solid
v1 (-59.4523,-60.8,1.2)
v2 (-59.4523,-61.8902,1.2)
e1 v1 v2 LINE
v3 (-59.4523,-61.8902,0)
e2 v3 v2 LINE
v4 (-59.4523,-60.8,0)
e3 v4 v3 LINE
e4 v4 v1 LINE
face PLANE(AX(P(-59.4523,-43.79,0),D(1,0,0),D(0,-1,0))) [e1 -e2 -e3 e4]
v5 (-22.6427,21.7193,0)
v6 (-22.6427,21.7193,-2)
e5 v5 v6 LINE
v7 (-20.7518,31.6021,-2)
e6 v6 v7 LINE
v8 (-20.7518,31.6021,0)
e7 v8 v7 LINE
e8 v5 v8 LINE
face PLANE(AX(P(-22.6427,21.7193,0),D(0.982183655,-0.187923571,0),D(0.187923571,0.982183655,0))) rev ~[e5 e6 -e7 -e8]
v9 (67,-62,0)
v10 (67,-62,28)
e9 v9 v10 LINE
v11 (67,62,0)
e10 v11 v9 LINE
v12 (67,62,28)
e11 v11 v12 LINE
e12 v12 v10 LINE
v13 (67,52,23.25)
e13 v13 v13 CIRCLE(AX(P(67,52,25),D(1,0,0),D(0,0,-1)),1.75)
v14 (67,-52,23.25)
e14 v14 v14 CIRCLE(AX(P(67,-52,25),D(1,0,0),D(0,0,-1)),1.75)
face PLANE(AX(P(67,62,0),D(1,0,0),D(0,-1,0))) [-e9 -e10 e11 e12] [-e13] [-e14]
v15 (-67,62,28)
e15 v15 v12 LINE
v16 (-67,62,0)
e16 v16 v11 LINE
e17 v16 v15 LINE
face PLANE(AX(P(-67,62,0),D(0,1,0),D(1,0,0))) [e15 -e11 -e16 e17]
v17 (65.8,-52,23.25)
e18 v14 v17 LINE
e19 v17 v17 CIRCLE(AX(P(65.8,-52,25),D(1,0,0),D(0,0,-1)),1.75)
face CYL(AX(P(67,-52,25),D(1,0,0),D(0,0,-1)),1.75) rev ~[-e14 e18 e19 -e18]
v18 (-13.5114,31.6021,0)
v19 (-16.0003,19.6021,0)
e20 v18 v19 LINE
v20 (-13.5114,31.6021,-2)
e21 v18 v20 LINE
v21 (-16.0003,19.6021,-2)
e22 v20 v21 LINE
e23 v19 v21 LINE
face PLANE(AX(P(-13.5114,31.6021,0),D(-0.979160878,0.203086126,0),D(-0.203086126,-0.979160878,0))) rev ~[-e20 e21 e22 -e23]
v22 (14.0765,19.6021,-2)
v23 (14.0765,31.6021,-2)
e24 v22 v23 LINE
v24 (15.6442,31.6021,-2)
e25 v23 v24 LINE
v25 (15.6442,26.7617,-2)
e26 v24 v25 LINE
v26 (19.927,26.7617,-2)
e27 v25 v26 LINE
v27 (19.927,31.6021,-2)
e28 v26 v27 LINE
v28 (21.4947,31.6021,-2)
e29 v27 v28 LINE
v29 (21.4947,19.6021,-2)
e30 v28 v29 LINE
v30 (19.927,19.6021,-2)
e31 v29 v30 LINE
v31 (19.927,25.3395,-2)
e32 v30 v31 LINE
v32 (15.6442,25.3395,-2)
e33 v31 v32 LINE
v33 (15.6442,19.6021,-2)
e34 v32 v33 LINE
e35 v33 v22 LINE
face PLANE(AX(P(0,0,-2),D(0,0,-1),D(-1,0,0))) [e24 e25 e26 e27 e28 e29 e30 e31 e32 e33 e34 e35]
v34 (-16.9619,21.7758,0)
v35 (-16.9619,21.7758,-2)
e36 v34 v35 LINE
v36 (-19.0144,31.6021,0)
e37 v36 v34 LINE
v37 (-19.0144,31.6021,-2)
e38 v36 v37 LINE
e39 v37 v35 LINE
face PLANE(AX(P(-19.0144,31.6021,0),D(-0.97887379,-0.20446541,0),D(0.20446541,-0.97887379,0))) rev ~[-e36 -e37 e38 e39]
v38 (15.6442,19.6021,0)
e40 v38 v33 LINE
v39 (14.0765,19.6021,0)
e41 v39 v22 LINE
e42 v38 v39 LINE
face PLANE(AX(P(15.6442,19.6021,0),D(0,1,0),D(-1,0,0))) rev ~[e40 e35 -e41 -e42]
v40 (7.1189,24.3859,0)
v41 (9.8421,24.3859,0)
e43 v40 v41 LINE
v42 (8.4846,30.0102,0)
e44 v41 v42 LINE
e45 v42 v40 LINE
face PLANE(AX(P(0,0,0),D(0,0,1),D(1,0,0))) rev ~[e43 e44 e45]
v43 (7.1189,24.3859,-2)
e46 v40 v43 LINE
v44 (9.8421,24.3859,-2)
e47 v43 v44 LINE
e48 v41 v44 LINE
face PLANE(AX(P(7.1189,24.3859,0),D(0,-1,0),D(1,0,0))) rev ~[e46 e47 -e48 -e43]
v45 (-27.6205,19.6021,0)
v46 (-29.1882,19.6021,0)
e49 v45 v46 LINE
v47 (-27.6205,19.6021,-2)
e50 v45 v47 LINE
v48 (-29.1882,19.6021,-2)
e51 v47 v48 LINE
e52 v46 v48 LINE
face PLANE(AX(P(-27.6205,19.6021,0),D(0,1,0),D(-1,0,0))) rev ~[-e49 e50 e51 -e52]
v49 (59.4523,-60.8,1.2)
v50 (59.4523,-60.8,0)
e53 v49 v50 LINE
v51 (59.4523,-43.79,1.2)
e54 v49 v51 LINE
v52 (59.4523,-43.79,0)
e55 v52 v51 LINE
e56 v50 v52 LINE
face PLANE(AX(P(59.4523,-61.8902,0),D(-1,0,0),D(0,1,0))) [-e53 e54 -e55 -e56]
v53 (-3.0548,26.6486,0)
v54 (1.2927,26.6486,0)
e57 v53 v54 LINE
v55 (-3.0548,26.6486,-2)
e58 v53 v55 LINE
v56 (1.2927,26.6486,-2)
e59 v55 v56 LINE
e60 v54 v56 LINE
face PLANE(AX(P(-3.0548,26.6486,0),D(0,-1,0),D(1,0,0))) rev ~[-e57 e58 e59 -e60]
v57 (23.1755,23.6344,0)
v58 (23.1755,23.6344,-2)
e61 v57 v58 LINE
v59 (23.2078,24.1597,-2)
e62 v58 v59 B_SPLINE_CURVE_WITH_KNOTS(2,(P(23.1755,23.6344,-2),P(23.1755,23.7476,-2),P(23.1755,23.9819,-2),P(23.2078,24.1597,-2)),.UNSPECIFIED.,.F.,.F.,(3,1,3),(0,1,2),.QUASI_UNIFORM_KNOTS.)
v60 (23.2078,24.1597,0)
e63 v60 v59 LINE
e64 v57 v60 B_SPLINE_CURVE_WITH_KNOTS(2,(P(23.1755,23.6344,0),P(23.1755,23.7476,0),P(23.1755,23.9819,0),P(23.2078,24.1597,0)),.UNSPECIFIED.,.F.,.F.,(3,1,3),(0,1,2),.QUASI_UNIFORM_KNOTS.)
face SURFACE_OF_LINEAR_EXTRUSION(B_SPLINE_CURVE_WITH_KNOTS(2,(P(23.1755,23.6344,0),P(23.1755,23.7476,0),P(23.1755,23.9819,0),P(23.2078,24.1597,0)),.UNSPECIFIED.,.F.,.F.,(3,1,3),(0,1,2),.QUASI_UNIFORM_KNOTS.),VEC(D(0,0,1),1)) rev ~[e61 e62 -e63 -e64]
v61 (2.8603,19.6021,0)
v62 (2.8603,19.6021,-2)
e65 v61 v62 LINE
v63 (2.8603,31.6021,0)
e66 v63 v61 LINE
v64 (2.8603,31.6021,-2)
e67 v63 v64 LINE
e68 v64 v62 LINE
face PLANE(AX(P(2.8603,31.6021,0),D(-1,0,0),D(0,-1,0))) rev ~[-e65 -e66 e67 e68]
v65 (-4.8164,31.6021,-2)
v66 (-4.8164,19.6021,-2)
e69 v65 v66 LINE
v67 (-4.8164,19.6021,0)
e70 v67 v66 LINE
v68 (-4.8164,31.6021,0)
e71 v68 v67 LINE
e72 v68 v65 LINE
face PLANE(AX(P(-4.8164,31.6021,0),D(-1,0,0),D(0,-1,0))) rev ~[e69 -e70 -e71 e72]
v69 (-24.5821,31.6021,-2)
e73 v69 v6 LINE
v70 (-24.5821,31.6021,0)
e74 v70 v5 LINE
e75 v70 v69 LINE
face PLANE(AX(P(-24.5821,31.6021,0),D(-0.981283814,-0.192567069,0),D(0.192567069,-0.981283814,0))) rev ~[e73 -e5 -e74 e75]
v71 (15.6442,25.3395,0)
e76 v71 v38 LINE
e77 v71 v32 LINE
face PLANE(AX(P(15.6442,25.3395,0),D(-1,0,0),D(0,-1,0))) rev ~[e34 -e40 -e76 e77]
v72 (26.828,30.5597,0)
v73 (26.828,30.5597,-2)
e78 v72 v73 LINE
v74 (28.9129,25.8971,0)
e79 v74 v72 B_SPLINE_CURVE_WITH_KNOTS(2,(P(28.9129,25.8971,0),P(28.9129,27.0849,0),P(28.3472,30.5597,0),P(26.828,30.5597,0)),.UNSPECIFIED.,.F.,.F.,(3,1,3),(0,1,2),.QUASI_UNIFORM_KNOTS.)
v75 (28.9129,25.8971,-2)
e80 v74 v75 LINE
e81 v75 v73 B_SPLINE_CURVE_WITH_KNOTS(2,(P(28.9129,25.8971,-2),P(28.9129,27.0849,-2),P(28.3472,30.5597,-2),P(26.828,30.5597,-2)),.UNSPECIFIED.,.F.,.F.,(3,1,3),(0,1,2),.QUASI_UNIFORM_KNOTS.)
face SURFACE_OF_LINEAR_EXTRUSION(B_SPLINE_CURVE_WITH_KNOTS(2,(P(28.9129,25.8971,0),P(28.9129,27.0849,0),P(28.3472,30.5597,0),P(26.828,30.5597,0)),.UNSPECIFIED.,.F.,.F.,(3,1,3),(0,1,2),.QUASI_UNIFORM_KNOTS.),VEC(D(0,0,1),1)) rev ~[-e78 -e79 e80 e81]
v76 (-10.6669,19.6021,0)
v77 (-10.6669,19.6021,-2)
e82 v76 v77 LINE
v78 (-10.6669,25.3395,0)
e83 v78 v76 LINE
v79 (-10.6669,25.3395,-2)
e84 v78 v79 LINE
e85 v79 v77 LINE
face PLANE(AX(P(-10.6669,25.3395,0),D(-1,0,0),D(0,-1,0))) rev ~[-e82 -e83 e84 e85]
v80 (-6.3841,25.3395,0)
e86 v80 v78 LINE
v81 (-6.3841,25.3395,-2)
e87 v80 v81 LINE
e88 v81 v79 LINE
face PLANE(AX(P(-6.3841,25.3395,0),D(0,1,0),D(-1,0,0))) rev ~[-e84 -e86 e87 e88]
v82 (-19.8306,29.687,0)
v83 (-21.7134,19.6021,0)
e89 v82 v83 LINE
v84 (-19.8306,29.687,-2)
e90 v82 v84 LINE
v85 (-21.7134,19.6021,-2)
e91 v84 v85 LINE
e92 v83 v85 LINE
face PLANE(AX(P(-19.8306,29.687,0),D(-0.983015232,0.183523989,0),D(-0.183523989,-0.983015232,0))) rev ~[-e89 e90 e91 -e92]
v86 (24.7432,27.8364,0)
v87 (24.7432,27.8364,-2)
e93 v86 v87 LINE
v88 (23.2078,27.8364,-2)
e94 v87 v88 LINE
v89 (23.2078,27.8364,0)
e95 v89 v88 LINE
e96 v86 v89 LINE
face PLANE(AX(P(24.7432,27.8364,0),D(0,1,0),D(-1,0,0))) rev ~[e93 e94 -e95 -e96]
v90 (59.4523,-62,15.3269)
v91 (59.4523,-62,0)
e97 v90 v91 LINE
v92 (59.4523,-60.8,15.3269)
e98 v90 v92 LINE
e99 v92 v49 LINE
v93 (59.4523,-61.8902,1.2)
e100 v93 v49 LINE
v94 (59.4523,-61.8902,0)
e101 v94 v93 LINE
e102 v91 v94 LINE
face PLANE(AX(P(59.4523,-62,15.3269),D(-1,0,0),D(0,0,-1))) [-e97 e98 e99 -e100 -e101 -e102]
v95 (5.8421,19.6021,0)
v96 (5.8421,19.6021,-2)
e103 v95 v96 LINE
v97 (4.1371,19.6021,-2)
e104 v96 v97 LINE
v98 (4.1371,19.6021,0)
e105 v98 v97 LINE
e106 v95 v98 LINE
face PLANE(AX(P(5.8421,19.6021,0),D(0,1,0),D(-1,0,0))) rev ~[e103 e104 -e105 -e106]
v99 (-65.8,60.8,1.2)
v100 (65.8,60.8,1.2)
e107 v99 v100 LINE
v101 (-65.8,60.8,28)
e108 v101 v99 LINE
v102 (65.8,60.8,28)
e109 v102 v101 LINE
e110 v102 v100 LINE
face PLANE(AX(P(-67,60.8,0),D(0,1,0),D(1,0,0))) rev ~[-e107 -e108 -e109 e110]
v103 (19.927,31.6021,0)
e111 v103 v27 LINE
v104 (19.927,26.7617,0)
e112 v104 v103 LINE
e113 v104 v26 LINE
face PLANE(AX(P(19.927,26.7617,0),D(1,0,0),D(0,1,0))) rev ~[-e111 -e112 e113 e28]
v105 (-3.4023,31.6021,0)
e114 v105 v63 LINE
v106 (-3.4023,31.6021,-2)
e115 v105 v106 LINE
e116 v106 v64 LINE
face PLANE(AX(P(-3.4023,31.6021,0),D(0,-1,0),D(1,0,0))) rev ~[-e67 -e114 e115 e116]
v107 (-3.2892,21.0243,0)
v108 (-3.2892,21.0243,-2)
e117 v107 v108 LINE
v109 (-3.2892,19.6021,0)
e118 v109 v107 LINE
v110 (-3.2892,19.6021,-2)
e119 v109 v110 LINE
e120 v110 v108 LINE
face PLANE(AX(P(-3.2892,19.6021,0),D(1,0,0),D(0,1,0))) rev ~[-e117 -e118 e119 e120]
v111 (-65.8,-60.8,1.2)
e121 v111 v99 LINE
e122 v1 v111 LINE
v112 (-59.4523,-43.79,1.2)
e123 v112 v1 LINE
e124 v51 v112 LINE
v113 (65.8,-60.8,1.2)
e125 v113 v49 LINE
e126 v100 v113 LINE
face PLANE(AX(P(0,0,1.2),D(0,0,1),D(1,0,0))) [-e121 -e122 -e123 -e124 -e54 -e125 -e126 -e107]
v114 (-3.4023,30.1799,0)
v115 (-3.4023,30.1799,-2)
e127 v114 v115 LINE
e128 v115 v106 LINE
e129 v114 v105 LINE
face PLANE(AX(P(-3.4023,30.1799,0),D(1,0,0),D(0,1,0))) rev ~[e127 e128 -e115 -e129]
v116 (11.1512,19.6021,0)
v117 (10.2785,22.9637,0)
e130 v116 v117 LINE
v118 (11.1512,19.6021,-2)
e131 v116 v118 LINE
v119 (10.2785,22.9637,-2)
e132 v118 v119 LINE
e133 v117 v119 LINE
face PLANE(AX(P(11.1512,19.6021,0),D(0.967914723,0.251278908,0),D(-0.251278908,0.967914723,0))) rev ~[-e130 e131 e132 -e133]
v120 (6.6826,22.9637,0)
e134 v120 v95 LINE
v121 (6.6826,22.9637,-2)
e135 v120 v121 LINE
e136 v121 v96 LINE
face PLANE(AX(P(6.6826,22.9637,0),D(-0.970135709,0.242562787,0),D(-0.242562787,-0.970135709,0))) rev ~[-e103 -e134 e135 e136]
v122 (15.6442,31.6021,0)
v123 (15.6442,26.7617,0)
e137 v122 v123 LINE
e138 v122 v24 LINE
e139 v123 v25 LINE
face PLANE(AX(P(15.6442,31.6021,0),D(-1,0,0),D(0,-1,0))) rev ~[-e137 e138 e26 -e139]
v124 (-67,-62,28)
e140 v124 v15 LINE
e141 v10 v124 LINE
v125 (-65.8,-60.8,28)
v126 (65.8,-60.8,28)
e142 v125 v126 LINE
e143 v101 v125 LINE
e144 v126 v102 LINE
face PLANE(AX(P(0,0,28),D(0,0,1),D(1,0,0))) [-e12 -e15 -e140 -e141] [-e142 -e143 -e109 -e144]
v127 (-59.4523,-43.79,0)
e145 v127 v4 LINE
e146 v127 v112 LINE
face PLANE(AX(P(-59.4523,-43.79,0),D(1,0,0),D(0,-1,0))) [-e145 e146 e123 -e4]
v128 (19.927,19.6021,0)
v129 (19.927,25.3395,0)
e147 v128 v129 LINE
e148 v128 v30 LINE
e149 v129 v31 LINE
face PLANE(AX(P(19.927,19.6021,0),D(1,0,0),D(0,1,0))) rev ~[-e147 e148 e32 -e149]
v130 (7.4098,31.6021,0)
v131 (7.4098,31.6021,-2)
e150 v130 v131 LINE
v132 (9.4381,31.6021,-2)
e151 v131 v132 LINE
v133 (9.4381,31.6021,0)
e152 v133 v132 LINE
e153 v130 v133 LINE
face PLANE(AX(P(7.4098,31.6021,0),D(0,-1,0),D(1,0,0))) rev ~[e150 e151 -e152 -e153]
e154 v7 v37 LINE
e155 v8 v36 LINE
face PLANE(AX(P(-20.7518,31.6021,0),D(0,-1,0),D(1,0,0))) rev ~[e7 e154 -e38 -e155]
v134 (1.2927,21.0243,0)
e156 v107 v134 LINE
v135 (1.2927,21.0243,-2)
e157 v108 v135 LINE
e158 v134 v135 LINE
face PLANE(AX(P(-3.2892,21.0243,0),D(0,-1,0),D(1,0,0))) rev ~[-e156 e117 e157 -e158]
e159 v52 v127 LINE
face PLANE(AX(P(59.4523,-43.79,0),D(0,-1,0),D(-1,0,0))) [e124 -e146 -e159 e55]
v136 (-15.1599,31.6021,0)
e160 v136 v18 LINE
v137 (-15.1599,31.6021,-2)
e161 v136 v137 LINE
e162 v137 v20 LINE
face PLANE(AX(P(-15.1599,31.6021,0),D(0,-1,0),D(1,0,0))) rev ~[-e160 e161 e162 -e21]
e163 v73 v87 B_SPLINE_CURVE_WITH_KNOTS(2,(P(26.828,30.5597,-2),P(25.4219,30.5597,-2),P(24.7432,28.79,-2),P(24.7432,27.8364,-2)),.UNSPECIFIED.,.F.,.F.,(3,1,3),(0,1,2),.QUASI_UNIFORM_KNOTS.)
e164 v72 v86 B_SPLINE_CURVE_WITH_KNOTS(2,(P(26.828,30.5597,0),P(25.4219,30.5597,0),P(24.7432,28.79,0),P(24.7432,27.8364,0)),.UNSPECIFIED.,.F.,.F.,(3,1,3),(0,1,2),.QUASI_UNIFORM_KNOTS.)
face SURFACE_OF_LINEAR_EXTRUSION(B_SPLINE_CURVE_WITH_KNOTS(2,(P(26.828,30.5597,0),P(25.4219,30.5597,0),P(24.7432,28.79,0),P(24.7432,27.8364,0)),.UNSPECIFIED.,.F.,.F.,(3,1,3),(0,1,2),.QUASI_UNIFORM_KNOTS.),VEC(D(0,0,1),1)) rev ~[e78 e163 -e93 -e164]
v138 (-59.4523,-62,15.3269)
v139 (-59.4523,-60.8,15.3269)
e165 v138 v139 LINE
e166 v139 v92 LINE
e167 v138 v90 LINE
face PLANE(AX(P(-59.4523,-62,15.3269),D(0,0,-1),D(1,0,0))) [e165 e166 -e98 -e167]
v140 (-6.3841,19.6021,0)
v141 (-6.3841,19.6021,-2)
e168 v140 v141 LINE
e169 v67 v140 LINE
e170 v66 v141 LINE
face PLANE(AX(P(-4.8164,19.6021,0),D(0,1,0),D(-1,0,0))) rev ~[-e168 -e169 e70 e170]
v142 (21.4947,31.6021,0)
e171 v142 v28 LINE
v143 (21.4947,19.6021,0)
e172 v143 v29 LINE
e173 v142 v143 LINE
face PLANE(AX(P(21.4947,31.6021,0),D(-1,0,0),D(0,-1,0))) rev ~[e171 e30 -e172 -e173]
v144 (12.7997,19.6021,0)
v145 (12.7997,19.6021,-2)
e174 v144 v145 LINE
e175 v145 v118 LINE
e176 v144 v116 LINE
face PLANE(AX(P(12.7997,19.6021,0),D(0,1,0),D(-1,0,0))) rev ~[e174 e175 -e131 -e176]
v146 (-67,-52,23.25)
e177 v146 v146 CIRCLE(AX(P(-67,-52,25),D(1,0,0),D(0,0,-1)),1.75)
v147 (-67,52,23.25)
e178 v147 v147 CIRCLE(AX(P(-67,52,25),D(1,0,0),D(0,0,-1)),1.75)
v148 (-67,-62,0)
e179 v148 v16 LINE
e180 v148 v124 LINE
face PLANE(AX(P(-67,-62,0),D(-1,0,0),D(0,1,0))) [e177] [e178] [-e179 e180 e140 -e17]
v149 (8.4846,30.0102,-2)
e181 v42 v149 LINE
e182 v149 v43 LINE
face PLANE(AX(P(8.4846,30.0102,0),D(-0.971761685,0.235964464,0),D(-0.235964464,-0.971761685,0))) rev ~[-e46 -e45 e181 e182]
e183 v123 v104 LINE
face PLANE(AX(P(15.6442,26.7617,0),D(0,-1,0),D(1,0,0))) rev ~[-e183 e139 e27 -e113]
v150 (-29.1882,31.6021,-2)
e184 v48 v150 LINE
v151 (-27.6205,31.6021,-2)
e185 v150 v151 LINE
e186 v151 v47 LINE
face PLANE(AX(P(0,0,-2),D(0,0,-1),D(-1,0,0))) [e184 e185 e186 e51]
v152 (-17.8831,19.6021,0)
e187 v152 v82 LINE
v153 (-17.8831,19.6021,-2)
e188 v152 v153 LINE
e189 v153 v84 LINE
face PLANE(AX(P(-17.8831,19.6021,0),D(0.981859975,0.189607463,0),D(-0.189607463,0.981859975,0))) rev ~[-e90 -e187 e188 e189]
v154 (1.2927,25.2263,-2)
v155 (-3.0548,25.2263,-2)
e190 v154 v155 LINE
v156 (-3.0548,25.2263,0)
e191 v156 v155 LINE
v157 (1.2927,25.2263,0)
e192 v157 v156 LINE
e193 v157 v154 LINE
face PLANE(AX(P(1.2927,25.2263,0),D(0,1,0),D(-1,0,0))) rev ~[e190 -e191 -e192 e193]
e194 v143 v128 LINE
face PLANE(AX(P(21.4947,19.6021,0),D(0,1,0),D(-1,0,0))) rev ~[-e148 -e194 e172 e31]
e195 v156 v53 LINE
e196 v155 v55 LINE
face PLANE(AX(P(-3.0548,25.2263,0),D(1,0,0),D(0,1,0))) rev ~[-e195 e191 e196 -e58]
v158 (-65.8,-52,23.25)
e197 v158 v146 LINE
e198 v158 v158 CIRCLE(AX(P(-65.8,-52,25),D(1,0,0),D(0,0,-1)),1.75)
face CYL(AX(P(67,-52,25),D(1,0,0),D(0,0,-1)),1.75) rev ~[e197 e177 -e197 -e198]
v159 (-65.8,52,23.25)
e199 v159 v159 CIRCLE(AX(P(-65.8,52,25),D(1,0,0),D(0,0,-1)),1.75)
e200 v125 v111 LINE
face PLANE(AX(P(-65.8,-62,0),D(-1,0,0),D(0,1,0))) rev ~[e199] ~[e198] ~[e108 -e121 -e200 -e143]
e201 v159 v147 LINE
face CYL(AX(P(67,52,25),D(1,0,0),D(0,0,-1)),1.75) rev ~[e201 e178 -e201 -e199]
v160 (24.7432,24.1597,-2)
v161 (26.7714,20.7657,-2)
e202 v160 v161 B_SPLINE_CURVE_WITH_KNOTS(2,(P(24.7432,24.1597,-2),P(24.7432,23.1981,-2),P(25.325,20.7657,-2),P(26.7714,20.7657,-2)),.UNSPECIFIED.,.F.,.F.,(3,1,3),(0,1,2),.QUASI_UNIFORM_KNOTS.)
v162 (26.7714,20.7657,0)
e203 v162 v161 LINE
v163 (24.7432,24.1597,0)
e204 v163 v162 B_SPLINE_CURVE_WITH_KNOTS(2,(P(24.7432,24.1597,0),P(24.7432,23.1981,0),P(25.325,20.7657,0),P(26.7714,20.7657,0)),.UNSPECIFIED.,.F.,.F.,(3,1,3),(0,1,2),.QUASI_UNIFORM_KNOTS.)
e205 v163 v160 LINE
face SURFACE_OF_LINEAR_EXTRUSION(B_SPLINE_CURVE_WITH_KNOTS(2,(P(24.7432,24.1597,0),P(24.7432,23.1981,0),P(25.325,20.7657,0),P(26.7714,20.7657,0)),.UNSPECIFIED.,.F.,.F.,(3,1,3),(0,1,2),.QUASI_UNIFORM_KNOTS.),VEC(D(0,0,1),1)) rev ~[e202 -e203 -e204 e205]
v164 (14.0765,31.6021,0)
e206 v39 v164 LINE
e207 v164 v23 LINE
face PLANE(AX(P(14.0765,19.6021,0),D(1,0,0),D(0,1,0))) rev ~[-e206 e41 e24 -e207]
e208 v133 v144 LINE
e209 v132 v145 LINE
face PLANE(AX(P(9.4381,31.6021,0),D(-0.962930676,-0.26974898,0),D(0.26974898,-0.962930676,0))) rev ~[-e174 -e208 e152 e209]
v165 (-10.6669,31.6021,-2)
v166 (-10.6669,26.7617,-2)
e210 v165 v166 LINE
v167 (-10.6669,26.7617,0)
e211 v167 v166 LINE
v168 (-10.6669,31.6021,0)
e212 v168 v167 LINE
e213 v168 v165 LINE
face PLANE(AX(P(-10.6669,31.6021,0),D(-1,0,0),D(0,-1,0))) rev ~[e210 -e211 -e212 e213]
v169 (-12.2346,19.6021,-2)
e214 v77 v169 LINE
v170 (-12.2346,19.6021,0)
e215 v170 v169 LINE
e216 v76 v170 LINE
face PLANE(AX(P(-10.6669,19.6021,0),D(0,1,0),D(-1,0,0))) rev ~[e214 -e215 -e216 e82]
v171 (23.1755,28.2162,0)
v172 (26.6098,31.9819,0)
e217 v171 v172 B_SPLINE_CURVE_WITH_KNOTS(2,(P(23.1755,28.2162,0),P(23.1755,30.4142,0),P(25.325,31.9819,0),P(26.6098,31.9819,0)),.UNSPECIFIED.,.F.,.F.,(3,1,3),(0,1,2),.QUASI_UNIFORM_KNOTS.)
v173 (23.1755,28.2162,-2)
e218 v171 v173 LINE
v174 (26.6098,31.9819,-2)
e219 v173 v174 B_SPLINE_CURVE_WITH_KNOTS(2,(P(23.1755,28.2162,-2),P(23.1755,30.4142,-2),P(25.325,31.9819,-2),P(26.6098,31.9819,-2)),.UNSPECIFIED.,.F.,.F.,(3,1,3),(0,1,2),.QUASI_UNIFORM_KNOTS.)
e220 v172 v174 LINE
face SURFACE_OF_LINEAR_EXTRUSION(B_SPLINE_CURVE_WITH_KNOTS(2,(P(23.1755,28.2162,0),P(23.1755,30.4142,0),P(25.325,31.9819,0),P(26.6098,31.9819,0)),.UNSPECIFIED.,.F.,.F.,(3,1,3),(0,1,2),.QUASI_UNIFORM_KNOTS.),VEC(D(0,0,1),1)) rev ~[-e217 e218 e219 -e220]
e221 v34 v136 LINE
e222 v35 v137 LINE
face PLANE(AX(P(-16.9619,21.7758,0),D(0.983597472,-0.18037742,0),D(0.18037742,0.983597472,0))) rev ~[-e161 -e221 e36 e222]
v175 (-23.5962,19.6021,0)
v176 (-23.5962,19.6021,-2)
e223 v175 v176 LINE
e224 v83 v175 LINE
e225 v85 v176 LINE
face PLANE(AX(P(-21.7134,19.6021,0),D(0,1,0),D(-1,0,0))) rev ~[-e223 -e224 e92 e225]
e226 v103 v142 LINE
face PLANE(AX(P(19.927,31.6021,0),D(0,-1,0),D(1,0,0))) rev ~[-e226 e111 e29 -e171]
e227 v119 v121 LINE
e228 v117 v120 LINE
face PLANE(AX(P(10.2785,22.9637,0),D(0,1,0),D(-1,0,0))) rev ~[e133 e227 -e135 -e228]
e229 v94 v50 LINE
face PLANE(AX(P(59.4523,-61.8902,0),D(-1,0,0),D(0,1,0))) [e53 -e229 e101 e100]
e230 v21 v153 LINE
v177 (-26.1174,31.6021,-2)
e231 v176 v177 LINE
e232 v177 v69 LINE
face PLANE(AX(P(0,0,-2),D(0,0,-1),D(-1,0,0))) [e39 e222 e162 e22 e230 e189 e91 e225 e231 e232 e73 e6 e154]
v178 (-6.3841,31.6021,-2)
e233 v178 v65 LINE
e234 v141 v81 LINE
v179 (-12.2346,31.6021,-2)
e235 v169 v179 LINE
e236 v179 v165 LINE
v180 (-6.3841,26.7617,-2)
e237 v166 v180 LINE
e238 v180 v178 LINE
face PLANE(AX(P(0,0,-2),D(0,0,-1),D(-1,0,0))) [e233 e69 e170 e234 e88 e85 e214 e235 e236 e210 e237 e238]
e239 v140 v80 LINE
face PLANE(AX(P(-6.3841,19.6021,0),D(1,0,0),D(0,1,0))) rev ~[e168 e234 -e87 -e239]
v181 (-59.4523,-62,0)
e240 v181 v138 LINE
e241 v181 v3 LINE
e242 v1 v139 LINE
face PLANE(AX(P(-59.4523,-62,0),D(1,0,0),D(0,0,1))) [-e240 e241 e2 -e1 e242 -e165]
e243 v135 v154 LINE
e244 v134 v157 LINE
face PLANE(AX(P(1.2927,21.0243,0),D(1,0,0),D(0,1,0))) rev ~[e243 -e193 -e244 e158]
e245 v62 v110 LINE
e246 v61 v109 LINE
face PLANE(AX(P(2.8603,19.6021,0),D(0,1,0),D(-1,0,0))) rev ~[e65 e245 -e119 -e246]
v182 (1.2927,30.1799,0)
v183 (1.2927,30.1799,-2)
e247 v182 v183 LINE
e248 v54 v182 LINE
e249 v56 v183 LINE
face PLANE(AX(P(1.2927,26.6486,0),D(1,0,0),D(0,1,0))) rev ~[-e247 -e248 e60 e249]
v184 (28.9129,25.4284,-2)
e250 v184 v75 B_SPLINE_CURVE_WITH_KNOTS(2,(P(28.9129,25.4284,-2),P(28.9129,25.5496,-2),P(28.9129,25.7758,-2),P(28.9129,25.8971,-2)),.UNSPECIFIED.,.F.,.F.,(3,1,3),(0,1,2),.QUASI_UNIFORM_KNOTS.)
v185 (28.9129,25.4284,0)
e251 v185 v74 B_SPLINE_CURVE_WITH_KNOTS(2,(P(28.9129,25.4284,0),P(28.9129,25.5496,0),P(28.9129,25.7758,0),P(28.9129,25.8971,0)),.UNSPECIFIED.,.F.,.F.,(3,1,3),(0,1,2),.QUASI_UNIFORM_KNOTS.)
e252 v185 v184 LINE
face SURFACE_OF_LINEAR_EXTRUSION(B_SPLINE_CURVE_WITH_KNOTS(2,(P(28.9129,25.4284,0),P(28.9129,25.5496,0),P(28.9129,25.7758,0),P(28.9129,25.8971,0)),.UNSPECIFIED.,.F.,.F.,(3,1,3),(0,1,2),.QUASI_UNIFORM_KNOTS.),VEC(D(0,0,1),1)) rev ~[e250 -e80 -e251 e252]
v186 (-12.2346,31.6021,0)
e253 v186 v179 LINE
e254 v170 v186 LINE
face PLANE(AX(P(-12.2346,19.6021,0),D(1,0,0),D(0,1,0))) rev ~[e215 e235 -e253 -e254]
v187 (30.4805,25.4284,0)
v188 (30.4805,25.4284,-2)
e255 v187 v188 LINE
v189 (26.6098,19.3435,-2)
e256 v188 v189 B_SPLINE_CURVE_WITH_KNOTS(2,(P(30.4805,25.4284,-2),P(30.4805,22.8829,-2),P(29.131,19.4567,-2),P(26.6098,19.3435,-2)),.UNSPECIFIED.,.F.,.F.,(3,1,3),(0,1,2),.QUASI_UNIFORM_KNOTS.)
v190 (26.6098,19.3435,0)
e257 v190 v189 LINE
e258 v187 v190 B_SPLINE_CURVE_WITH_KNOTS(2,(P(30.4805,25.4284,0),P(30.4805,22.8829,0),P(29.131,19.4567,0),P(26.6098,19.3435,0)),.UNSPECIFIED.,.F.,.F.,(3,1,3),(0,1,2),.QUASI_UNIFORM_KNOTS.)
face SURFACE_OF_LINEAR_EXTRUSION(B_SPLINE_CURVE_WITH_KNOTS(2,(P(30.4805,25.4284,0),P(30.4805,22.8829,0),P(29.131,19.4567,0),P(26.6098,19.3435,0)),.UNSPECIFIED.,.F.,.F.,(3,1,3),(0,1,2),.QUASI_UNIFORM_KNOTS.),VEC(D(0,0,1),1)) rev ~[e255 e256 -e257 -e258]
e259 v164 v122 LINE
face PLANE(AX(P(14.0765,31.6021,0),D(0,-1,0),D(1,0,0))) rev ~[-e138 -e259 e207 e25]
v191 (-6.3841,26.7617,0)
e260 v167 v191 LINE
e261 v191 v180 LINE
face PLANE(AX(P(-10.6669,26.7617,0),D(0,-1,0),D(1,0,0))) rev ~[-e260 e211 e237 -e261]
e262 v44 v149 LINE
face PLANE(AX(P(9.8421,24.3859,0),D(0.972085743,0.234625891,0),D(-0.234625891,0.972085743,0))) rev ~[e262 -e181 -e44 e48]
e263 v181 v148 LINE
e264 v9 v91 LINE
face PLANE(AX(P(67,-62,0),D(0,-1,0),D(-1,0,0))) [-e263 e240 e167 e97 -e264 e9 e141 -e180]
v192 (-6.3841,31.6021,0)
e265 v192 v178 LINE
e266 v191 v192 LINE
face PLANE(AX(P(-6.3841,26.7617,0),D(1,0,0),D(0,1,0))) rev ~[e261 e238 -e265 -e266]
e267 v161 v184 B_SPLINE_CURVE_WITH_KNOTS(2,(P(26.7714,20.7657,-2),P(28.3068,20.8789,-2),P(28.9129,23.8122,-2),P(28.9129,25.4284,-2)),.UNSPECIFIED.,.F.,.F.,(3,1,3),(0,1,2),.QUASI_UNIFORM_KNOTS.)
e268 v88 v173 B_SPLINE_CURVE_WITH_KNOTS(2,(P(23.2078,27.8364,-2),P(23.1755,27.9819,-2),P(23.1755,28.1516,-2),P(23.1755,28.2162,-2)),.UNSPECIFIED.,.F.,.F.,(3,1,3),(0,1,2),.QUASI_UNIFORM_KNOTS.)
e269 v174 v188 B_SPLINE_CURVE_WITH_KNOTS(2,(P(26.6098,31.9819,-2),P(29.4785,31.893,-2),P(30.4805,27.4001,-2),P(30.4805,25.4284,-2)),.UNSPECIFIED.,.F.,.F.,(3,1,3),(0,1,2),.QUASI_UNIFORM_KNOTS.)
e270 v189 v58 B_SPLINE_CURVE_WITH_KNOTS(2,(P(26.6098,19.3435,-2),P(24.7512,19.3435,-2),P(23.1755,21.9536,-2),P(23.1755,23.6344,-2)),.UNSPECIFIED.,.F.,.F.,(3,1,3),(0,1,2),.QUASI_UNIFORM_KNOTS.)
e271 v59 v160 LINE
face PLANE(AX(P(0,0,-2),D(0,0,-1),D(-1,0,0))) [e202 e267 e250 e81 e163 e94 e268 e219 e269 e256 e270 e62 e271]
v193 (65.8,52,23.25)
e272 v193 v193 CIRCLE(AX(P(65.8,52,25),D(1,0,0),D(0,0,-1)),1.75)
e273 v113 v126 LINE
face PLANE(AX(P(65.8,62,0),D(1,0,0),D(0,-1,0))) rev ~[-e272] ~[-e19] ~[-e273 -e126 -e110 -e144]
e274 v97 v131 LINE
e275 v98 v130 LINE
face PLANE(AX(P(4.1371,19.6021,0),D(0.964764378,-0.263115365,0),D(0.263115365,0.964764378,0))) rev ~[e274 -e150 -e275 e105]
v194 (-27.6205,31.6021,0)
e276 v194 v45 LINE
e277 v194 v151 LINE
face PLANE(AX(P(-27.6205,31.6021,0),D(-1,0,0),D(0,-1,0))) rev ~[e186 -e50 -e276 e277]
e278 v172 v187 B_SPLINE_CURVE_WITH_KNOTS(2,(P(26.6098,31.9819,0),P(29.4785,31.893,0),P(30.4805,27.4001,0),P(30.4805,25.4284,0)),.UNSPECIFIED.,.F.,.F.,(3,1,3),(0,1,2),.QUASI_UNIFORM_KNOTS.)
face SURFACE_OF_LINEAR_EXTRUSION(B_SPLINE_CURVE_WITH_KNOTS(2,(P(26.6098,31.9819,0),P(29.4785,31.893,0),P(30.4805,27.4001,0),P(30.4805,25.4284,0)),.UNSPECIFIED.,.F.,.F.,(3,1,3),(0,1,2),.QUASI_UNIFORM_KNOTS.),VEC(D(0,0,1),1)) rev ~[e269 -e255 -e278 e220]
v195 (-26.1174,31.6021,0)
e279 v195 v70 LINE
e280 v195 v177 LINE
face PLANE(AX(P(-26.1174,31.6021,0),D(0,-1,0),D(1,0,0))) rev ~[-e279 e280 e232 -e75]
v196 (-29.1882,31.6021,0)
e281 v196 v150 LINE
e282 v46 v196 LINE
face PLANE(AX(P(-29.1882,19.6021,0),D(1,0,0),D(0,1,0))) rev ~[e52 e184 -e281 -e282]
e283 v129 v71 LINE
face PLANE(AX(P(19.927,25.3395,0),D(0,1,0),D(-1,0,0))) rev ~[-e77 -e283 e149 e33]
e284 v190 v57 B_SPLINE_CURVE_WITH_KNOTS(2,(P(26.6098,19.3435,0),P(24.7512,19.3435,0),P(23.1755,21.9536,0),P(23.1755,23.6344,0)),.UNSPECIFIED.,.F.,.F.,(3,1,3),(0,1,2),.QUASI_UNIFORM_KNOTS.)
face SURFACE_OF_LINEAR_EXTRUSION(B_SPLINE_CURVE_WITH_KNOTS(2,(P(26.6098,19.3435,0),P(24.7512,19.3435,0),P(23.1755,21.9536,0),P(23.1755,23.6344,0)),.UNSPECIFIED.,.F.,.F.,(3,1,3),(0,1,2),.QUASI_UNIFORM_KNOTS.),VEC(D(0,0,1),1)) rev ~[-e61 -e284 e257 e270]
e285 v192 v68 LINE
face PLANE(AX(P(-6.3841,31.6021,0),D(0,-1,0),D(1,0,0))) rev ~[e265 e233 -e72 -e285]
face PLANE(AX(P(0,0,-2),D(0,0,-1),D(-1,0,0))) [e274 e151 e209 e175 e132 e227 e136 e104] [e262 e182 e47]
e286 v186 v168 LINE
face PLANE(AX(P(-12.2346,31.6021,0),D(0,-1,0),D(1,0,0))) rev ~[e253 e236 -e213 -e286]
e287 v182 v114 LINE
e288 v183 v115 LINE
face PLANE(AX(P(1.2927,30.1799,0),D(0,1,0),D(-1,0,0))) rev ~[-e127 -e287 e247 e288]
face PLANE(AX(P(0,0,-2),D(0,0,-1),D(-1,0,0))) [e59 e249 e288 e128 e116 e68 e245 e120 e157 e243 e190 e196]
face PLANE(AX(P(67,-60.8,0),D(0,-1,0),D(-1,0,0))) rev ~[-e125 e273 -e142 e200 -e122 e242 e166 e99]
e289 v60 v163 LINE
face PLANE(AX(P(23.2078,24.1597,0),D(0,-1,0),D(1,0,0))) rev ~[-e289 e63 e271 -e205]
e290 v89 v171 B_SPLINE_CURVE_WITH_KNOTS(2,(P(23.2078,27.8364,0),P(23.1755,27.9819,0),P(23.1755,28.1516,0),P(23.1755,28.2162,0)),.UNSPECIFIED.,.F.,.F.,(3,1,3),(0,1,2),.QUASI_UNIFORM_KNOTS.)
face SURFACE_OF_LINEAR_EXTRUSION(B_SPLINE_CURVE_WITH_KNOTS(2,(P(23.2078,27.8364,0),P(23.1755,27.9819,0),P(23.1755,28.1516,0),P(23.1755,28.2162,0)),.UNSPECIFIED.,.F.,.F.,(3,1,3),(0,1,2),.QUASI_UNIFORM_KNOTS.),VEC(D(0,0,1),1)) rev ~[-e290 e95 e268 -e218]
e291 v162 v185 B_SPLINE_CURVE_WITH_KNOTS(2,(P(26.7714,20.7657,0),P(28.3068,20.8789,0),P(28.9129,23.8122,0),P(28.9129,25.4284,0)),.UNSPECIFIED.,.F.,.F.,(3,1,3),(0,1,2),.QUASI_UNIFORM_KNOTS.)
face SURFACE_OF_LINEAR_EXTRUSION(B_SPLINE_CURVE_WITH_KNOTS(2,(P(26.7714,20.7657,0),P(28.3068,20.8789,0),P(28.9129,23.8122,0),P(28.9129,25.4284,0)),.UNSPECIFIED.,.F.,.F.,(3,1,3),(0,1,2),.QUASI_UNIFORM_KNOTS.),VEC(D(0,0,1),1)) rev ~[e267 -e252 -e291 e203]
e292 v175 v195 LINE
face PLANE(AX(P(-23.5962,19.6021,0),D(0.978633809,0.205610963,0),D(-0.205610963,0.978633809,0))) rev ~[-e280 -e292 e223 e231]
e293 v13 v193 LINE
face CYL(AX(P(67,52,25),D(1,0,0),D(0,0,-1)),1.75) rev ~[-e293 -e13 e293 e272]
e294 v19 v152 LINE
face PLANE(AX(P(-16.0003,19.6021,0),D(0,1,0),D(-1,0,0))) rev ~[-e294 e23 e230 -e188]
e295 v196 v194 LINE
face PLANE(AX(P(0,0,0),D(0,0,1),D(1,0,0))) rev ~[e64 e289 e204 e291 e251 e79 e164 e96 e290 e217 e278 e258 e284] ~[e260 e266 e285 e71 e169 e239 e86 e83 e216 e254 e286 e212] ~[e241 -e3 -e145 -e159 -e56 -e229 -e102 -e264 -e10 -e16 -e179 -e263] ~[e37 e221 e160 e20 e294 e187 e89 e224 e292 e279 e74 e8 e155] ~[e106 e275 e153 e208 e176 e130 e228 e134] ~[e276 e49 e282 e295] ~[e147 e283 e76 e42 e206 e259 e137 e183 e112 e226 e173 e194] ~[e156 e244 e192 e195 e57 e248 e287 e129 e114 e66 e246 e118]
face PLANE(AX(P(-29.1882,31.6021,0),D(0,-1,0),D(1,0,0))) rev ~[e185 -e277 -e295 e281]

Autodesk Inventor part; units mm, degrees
ref_plane "YZ Plane" through (0, 0, 0) normal (1, 0, 0) x (0, 1, 0)
ref_plane "XZ Plane" through (0, 0, 0) normal (0, 1, 0) x (-1, 0, 0)
ref_plane "XY Plane" through (0, 0, 0) normal (0, 0, 1) x (1, 0, 0)
sketch "스케치1" plane through (0, 0, 0) normal (0, 0, 1) x (1, 0, 0)
  line L0 (67, -62) -> (-67, -62)
  line L1 (-67, -62) -> (-67, 62)
  line L2 (-67, 62) -> (67, 62)
  line L3 (67, 62) -> (67, -62)
  line L4 (67, -62) -> (-67, 62) construction
  line L5 (-67, -62) -> (67, 62) construction
  point P0 (0, 0)
  dimension "d0" = 134
  dimension "d1" = 124
extrude "돌출1" add sketch "스케치1" along normal blind 28
shell "쉘1" thickness 1.2 removed faces 1 at (22.3333, 20.6667, 28)
sketch "스케치2" plane through (0, 0, 0) normal (0, 0, -1) x (-1, 0, 0)
  line L0 (59.4523, -61.8902) -> (-59.4523, -61.8902)
  line L1 (-59.4523, -61.8902) -> (-59.4523, -43.79)
  line L2 (-59.4523, -43.79) -> (59.4523, -43.79)
  line L3 (59.4523, -43.79) -> (59.4523, -61.8902)
  line L4 (59.4523, -61.8902) -> (-59.4523, -43.79) construction
  line L5 (-59.4523, -61.8902) -> (59.4523, -43.79) construction
  point P0 (0, 0)
  point P1 (0, -52.8401)
extrude "돌출2" cut sketch "스케치2" against normal blind 1.2
sketch "스케치3" plane through (0, 0, 0) normal (0, 0, -1) x (-1, 0, 0)
  line L0 (-31.3452, 31.9819) -> (-10.2317, 31.9819) construction
  line L1 (-10.2317, 31.9819) -> (-10.2317, 28.3571) construction
  line L2 (-10.2317, 28.3571) -> (-31.3452, 28.3571) construction
  line L3 (-31.3452, 28.3571) -> (-31.3452, 31.9819) construction
  spline S0 degree 2 poles (-23.1755, 23.6344) (-23.1755, 23.7476) (-23.1755, 23.9819) (-23.2078, 24.1597) knots 0 0 0 1 2 2 2
  line L4 (-23.2078, 24.1597) -> (-24.7432, 24.1597)
  spline S1 degree 2 poles (-24.7432, 24.1597) (-24.7432, 23.1981) (-25.325, 20.7657) (-26.7714, 20.7657) knots 0 0 0 1 2 2 2
  spline S2 degree 2 poles (-26.7714, 20.7657) (-28.3068, 20.8789) (-28.9129, 23.8122) (-28.9129, 25.4284) knots 0 0 0 1 2 2 2
  spline S3 degree 2 poles (-28.9129, 25.4284) (-28.9129, 25.5496) (-28.9129, 25.7758) (-28.9129, 25.8971) knots 0 0 0 1 2 2 2
  spline S4 degree 2 poles (-28.9129, 25.8971) (-28.9129, 27.0849) (-28.3472, 30.5597) (-26.828, 30.5597) knots 0 0 0 1 2 2 2
  spline S5 degree 2 poles (-26.828, 30.5597) (-25.4219, 30.5597) (-24.7432, 28.79) (-24.7432, 27.8364) knots 0 0 0 1 2 2 2
  line L5 (-24.7432, 27.8364) -> (-23.2078, 27.8364)
  spline S6 degree 2 poles (-23.2078, 27.8364) (-23.1755, 27.9819) (-23.1755, 28.1516) (-23.1755, 28.2162) knots 0 0 0 1 2 2 2
  spline S7 degree 2 poles (-23.1755, 28.2162) (-23.1755, 30.4142) (-25.325, 31.9819) (-26.6098, 31.9819) knots 0 0 0 1 2 2 2
  spline S8 degree 2 poles (-26.6098, 31.9819) (-29.4785, 31.893) (-30.4805, 27.4001) (-30.4805, 25.4284) knots 0 0 0 1 2 2 2
  spline S9 degree 2 poles (-30.4805, 25.4284) (-30.4805, 22.8829) (-29.131, 19.4567) (-26.6098, 19.3435) knots 0 0 0 1 2 2 2
  spline S10 degree 2 poles (-26.6098, 19.3435) (-24.7512, 19.3435) (-23.1755, 21.9536) (-23.1755, 23.6344) knots 0 0 0 1 2 2 2
  line L6 (-14.0765, 19.6021) -> (-14.0765, 31.6021)
  line L7 (-14.0765, 31.6021) -> (-15.6442, 31.6021)
  line L8 (-15.6442, 31.6021) -> (-15.6442, 26.7617)
  line L9 (-15.6442, 26.7617) -> (-19.927, 26.7617)
  line L10 (-19.927, 26.7617) -> (-19.927, 31.6021)
  line L11 (-19.927, 31.6021) -> (-21.4947, 31.6021)
  line L12 (-21.4947, 31.6021) -> (-21.4947, 19.6021)
  line L13 (-21.4947, 19.6021) -> (-19.927, 19.6021)
  line L14 (-19.927, 19.6021) -> (-19.927, 25.3395)
  line L15 (-19.927, 25.3395) -> (-15.6442, 25.3395)
  line L16 (-15.6442, 25.3395) -> (-15.6442, 19.6021)
  line L17 (-15.6442, 19.6021) -> (-14.0765, 19.6021)
  line L18 (-4.1371, 19.6021) -> (-7.4098, 31.6021)
  line L19 (-7.4098, 31.6021) -> (-9.4381, 31.6021)
  line L20 (-9.4381, 31.6021) -> (-12.7997, 19.6021)
  line L21 (-12.7997, 19.6021) -> (-11.1512, 19.6021)
  line L22 (-11.1512, 19.6021) -> (-10.2785, 22.9637)
  line L23 (-10.2785, 22.9637) -> (-6.6826, 22.9637)
  line L24 (-6.6826, 22.9637) -> (-5.8421, 19.6021)
  line L25 (-5.8421, 19.6021) -> (-4.1371, 19.6021)
  line L26 (-7.1189, 24.3859) -> (-9.8421, 24.3859)
  line L27 (-9.8421, 24.3859) -> (-8.4846, 30.0102)
  line L28 (-8.4846, 30.0102) -> (-7.1189, 24.3859)
  line L29 (3.4023, 30.1799) -> (3.4023, 31.6021)
  line L30 (3.4023, 31.6021) -> (-2.8603, 31.6021)
  line L31 (-2.8603, 31.6021) -> (-2.8603, 19.6021)
  line L32 (-2.8603, 19.6021) -> (3.2892, 19.6021)
  line L33 (3.2892, 19.6021) -> (3.2892, 21.0243)
  line L34 (3.2892, 21.0243) -> (-1.2927, 21.0243)
  line L35 (-1.2927, 21.0243) -> (-1.2927, 25.2263)
  line L36 (-1.2927, 25.2263) -> (3.0548, 25.2263)
  line L37 (3.0548, 25.2263) -> (3.0548, 26.6486)
  line L38 (3.0548, 26.6486) -> (-1.2927, 26.6486)
  line L39 (-1.2927, 26.6486) -> (-1.2927, 30.1799)
  line L40 (-1.2927, 30.1799) -> (3.4023, 30.1799)
  line L41 (12.2346, 19.6021) -> (12.2346, 31.6021)
  line L42 (12.2346, 31.6021) -> (10.6669, 31.6021)
  line L43 (10.6669, 31.6021) -> (10.6669, 26.7617)
  line L44 (10.6669, 26.7617) -> (6.3841, 26.7617)
  line L45 (6.3841, 26.7617) -> (6.3841, 31.6021)
  line L46 (6.3841, 31.6021) -> (4.8164, 31.6021)
  line L47 (4.8164, 31.6021) -> (4.8164, 19.6021)
  line L48 (4.8164, 19.6021) -> (6.3841, 19.6021)
  line L49 (6.3841, 19.6021) -> (6.3841, 25.3395)
  line L50 (6.3841, 25.3395) -> (10.6669, 25.3395)
  line L51 (10.6669, 25.3395) -> (10.6669, 19.6021)
  line L52 (10.6669, 19.6021) -> (12.2346, 19.6021)
  line L53 (26.1174, 31.6021) -> (24.5821, 31.6021)
  line L54 (24.5821, 31.6021) -> (22.6427, 21.7193)
  line L55 (22.6427, 21.7193) -> (20.7518, 31.6021)
  line L56 (20.7518, 31.6021) -> (19.0144, 31.6021)
  line L57 (19.0144, 31.6021) -> (16.9619, 21.7758)
  line L58 (16.9619, 21.7758) -> (15.1599, 31.6021)
  line L59 (15.1599, 31.6021) -> (13.5114, 31.6021)
  line L60 (13.5114, 31.6021) -> (16.0003, 19.6021)
  line L61 (16.0003, 19.6021) -> (17.8831, 19.6021)
  line L62 (17.8831, 19.6021) -> (19.8306, 29.687)
  line L63 (19.8306, 29.687) -> (21.7134, 19.6021)
  line L64 (21.7134, 19.6021) -> (23.5962, 19.6021)
  line L65 (23.5962, 19.6021) -> (26.1174, 31.6021)
  line L66 (29.1882, 19.6021) -> (29.1882, 31.6021)
  line L67 (29.1882, 31.6021) -> (27.6205, 31.6021)
  line L68 (27.6205, 31.6021) -> (27.6205, 19.6021)
  line L69 (27.6205, 19.6021) -> (29.1882, 19.6021)
  point P0 (0, 0)
  dimension "d0" = 134
  dimension "d1" = 124
extrude "돌출3" add sketch "스케치3" along normal blind 2
sketch "스케치5" plane through (-67, -62, 0) normal (0, -1, 0) x (1, 0, 0)
  line L0 (7.5477, 0) -> (126.4523, 0) projected
  line L1 (126.4523, 0) -> (7.5477, 0)
  line L2 (7.5477, 0) -> (7.5477, 15.3269)
  line L3 (7.5477, 15.3269) -> (126.4523, 15.3269)
  line L4 (126.4523, 15.3269) -> (126.4523, 0)
  point P0 (67, 0)
extrude "돌출5" cut sketch "스케치5" against normal blind 1.2
sketch "스케치6" plane through (67, -62, 0) normal (1, 0, 0) x (0, 0, -1)
  line L0 (-28, 0) -> (-28, 124) construction
  line L1 (-28, 124) -> (-25, 124) construction
  line L2 (0, 124) -> (-28, 124) construction
  line L3 (-25, 124) -> (-25, 114) construction
  circle A0 centre (-25, 114) radius 1.75
  line L4 (-28, 0) -> (-25, 0) construction
  line L5 (0, 0) -> (-28, 0) construction
  line L6 (-25, 0) -> (-25, 10) construction
  circle A1 centre (-25, 10) radius 1.75
  point P0 (0, 62)
  dimension "d13" = 3
  dimension "d14" = 10
  dimension "d15" = 3.5
  dimension "d16" = 3
  dimension "d17" = 10
  dimension "d18" = 3.5
extrude "돌출6" cut sketch "스케치6" against normal blind 200
properties part number "240621_뚜껑"
